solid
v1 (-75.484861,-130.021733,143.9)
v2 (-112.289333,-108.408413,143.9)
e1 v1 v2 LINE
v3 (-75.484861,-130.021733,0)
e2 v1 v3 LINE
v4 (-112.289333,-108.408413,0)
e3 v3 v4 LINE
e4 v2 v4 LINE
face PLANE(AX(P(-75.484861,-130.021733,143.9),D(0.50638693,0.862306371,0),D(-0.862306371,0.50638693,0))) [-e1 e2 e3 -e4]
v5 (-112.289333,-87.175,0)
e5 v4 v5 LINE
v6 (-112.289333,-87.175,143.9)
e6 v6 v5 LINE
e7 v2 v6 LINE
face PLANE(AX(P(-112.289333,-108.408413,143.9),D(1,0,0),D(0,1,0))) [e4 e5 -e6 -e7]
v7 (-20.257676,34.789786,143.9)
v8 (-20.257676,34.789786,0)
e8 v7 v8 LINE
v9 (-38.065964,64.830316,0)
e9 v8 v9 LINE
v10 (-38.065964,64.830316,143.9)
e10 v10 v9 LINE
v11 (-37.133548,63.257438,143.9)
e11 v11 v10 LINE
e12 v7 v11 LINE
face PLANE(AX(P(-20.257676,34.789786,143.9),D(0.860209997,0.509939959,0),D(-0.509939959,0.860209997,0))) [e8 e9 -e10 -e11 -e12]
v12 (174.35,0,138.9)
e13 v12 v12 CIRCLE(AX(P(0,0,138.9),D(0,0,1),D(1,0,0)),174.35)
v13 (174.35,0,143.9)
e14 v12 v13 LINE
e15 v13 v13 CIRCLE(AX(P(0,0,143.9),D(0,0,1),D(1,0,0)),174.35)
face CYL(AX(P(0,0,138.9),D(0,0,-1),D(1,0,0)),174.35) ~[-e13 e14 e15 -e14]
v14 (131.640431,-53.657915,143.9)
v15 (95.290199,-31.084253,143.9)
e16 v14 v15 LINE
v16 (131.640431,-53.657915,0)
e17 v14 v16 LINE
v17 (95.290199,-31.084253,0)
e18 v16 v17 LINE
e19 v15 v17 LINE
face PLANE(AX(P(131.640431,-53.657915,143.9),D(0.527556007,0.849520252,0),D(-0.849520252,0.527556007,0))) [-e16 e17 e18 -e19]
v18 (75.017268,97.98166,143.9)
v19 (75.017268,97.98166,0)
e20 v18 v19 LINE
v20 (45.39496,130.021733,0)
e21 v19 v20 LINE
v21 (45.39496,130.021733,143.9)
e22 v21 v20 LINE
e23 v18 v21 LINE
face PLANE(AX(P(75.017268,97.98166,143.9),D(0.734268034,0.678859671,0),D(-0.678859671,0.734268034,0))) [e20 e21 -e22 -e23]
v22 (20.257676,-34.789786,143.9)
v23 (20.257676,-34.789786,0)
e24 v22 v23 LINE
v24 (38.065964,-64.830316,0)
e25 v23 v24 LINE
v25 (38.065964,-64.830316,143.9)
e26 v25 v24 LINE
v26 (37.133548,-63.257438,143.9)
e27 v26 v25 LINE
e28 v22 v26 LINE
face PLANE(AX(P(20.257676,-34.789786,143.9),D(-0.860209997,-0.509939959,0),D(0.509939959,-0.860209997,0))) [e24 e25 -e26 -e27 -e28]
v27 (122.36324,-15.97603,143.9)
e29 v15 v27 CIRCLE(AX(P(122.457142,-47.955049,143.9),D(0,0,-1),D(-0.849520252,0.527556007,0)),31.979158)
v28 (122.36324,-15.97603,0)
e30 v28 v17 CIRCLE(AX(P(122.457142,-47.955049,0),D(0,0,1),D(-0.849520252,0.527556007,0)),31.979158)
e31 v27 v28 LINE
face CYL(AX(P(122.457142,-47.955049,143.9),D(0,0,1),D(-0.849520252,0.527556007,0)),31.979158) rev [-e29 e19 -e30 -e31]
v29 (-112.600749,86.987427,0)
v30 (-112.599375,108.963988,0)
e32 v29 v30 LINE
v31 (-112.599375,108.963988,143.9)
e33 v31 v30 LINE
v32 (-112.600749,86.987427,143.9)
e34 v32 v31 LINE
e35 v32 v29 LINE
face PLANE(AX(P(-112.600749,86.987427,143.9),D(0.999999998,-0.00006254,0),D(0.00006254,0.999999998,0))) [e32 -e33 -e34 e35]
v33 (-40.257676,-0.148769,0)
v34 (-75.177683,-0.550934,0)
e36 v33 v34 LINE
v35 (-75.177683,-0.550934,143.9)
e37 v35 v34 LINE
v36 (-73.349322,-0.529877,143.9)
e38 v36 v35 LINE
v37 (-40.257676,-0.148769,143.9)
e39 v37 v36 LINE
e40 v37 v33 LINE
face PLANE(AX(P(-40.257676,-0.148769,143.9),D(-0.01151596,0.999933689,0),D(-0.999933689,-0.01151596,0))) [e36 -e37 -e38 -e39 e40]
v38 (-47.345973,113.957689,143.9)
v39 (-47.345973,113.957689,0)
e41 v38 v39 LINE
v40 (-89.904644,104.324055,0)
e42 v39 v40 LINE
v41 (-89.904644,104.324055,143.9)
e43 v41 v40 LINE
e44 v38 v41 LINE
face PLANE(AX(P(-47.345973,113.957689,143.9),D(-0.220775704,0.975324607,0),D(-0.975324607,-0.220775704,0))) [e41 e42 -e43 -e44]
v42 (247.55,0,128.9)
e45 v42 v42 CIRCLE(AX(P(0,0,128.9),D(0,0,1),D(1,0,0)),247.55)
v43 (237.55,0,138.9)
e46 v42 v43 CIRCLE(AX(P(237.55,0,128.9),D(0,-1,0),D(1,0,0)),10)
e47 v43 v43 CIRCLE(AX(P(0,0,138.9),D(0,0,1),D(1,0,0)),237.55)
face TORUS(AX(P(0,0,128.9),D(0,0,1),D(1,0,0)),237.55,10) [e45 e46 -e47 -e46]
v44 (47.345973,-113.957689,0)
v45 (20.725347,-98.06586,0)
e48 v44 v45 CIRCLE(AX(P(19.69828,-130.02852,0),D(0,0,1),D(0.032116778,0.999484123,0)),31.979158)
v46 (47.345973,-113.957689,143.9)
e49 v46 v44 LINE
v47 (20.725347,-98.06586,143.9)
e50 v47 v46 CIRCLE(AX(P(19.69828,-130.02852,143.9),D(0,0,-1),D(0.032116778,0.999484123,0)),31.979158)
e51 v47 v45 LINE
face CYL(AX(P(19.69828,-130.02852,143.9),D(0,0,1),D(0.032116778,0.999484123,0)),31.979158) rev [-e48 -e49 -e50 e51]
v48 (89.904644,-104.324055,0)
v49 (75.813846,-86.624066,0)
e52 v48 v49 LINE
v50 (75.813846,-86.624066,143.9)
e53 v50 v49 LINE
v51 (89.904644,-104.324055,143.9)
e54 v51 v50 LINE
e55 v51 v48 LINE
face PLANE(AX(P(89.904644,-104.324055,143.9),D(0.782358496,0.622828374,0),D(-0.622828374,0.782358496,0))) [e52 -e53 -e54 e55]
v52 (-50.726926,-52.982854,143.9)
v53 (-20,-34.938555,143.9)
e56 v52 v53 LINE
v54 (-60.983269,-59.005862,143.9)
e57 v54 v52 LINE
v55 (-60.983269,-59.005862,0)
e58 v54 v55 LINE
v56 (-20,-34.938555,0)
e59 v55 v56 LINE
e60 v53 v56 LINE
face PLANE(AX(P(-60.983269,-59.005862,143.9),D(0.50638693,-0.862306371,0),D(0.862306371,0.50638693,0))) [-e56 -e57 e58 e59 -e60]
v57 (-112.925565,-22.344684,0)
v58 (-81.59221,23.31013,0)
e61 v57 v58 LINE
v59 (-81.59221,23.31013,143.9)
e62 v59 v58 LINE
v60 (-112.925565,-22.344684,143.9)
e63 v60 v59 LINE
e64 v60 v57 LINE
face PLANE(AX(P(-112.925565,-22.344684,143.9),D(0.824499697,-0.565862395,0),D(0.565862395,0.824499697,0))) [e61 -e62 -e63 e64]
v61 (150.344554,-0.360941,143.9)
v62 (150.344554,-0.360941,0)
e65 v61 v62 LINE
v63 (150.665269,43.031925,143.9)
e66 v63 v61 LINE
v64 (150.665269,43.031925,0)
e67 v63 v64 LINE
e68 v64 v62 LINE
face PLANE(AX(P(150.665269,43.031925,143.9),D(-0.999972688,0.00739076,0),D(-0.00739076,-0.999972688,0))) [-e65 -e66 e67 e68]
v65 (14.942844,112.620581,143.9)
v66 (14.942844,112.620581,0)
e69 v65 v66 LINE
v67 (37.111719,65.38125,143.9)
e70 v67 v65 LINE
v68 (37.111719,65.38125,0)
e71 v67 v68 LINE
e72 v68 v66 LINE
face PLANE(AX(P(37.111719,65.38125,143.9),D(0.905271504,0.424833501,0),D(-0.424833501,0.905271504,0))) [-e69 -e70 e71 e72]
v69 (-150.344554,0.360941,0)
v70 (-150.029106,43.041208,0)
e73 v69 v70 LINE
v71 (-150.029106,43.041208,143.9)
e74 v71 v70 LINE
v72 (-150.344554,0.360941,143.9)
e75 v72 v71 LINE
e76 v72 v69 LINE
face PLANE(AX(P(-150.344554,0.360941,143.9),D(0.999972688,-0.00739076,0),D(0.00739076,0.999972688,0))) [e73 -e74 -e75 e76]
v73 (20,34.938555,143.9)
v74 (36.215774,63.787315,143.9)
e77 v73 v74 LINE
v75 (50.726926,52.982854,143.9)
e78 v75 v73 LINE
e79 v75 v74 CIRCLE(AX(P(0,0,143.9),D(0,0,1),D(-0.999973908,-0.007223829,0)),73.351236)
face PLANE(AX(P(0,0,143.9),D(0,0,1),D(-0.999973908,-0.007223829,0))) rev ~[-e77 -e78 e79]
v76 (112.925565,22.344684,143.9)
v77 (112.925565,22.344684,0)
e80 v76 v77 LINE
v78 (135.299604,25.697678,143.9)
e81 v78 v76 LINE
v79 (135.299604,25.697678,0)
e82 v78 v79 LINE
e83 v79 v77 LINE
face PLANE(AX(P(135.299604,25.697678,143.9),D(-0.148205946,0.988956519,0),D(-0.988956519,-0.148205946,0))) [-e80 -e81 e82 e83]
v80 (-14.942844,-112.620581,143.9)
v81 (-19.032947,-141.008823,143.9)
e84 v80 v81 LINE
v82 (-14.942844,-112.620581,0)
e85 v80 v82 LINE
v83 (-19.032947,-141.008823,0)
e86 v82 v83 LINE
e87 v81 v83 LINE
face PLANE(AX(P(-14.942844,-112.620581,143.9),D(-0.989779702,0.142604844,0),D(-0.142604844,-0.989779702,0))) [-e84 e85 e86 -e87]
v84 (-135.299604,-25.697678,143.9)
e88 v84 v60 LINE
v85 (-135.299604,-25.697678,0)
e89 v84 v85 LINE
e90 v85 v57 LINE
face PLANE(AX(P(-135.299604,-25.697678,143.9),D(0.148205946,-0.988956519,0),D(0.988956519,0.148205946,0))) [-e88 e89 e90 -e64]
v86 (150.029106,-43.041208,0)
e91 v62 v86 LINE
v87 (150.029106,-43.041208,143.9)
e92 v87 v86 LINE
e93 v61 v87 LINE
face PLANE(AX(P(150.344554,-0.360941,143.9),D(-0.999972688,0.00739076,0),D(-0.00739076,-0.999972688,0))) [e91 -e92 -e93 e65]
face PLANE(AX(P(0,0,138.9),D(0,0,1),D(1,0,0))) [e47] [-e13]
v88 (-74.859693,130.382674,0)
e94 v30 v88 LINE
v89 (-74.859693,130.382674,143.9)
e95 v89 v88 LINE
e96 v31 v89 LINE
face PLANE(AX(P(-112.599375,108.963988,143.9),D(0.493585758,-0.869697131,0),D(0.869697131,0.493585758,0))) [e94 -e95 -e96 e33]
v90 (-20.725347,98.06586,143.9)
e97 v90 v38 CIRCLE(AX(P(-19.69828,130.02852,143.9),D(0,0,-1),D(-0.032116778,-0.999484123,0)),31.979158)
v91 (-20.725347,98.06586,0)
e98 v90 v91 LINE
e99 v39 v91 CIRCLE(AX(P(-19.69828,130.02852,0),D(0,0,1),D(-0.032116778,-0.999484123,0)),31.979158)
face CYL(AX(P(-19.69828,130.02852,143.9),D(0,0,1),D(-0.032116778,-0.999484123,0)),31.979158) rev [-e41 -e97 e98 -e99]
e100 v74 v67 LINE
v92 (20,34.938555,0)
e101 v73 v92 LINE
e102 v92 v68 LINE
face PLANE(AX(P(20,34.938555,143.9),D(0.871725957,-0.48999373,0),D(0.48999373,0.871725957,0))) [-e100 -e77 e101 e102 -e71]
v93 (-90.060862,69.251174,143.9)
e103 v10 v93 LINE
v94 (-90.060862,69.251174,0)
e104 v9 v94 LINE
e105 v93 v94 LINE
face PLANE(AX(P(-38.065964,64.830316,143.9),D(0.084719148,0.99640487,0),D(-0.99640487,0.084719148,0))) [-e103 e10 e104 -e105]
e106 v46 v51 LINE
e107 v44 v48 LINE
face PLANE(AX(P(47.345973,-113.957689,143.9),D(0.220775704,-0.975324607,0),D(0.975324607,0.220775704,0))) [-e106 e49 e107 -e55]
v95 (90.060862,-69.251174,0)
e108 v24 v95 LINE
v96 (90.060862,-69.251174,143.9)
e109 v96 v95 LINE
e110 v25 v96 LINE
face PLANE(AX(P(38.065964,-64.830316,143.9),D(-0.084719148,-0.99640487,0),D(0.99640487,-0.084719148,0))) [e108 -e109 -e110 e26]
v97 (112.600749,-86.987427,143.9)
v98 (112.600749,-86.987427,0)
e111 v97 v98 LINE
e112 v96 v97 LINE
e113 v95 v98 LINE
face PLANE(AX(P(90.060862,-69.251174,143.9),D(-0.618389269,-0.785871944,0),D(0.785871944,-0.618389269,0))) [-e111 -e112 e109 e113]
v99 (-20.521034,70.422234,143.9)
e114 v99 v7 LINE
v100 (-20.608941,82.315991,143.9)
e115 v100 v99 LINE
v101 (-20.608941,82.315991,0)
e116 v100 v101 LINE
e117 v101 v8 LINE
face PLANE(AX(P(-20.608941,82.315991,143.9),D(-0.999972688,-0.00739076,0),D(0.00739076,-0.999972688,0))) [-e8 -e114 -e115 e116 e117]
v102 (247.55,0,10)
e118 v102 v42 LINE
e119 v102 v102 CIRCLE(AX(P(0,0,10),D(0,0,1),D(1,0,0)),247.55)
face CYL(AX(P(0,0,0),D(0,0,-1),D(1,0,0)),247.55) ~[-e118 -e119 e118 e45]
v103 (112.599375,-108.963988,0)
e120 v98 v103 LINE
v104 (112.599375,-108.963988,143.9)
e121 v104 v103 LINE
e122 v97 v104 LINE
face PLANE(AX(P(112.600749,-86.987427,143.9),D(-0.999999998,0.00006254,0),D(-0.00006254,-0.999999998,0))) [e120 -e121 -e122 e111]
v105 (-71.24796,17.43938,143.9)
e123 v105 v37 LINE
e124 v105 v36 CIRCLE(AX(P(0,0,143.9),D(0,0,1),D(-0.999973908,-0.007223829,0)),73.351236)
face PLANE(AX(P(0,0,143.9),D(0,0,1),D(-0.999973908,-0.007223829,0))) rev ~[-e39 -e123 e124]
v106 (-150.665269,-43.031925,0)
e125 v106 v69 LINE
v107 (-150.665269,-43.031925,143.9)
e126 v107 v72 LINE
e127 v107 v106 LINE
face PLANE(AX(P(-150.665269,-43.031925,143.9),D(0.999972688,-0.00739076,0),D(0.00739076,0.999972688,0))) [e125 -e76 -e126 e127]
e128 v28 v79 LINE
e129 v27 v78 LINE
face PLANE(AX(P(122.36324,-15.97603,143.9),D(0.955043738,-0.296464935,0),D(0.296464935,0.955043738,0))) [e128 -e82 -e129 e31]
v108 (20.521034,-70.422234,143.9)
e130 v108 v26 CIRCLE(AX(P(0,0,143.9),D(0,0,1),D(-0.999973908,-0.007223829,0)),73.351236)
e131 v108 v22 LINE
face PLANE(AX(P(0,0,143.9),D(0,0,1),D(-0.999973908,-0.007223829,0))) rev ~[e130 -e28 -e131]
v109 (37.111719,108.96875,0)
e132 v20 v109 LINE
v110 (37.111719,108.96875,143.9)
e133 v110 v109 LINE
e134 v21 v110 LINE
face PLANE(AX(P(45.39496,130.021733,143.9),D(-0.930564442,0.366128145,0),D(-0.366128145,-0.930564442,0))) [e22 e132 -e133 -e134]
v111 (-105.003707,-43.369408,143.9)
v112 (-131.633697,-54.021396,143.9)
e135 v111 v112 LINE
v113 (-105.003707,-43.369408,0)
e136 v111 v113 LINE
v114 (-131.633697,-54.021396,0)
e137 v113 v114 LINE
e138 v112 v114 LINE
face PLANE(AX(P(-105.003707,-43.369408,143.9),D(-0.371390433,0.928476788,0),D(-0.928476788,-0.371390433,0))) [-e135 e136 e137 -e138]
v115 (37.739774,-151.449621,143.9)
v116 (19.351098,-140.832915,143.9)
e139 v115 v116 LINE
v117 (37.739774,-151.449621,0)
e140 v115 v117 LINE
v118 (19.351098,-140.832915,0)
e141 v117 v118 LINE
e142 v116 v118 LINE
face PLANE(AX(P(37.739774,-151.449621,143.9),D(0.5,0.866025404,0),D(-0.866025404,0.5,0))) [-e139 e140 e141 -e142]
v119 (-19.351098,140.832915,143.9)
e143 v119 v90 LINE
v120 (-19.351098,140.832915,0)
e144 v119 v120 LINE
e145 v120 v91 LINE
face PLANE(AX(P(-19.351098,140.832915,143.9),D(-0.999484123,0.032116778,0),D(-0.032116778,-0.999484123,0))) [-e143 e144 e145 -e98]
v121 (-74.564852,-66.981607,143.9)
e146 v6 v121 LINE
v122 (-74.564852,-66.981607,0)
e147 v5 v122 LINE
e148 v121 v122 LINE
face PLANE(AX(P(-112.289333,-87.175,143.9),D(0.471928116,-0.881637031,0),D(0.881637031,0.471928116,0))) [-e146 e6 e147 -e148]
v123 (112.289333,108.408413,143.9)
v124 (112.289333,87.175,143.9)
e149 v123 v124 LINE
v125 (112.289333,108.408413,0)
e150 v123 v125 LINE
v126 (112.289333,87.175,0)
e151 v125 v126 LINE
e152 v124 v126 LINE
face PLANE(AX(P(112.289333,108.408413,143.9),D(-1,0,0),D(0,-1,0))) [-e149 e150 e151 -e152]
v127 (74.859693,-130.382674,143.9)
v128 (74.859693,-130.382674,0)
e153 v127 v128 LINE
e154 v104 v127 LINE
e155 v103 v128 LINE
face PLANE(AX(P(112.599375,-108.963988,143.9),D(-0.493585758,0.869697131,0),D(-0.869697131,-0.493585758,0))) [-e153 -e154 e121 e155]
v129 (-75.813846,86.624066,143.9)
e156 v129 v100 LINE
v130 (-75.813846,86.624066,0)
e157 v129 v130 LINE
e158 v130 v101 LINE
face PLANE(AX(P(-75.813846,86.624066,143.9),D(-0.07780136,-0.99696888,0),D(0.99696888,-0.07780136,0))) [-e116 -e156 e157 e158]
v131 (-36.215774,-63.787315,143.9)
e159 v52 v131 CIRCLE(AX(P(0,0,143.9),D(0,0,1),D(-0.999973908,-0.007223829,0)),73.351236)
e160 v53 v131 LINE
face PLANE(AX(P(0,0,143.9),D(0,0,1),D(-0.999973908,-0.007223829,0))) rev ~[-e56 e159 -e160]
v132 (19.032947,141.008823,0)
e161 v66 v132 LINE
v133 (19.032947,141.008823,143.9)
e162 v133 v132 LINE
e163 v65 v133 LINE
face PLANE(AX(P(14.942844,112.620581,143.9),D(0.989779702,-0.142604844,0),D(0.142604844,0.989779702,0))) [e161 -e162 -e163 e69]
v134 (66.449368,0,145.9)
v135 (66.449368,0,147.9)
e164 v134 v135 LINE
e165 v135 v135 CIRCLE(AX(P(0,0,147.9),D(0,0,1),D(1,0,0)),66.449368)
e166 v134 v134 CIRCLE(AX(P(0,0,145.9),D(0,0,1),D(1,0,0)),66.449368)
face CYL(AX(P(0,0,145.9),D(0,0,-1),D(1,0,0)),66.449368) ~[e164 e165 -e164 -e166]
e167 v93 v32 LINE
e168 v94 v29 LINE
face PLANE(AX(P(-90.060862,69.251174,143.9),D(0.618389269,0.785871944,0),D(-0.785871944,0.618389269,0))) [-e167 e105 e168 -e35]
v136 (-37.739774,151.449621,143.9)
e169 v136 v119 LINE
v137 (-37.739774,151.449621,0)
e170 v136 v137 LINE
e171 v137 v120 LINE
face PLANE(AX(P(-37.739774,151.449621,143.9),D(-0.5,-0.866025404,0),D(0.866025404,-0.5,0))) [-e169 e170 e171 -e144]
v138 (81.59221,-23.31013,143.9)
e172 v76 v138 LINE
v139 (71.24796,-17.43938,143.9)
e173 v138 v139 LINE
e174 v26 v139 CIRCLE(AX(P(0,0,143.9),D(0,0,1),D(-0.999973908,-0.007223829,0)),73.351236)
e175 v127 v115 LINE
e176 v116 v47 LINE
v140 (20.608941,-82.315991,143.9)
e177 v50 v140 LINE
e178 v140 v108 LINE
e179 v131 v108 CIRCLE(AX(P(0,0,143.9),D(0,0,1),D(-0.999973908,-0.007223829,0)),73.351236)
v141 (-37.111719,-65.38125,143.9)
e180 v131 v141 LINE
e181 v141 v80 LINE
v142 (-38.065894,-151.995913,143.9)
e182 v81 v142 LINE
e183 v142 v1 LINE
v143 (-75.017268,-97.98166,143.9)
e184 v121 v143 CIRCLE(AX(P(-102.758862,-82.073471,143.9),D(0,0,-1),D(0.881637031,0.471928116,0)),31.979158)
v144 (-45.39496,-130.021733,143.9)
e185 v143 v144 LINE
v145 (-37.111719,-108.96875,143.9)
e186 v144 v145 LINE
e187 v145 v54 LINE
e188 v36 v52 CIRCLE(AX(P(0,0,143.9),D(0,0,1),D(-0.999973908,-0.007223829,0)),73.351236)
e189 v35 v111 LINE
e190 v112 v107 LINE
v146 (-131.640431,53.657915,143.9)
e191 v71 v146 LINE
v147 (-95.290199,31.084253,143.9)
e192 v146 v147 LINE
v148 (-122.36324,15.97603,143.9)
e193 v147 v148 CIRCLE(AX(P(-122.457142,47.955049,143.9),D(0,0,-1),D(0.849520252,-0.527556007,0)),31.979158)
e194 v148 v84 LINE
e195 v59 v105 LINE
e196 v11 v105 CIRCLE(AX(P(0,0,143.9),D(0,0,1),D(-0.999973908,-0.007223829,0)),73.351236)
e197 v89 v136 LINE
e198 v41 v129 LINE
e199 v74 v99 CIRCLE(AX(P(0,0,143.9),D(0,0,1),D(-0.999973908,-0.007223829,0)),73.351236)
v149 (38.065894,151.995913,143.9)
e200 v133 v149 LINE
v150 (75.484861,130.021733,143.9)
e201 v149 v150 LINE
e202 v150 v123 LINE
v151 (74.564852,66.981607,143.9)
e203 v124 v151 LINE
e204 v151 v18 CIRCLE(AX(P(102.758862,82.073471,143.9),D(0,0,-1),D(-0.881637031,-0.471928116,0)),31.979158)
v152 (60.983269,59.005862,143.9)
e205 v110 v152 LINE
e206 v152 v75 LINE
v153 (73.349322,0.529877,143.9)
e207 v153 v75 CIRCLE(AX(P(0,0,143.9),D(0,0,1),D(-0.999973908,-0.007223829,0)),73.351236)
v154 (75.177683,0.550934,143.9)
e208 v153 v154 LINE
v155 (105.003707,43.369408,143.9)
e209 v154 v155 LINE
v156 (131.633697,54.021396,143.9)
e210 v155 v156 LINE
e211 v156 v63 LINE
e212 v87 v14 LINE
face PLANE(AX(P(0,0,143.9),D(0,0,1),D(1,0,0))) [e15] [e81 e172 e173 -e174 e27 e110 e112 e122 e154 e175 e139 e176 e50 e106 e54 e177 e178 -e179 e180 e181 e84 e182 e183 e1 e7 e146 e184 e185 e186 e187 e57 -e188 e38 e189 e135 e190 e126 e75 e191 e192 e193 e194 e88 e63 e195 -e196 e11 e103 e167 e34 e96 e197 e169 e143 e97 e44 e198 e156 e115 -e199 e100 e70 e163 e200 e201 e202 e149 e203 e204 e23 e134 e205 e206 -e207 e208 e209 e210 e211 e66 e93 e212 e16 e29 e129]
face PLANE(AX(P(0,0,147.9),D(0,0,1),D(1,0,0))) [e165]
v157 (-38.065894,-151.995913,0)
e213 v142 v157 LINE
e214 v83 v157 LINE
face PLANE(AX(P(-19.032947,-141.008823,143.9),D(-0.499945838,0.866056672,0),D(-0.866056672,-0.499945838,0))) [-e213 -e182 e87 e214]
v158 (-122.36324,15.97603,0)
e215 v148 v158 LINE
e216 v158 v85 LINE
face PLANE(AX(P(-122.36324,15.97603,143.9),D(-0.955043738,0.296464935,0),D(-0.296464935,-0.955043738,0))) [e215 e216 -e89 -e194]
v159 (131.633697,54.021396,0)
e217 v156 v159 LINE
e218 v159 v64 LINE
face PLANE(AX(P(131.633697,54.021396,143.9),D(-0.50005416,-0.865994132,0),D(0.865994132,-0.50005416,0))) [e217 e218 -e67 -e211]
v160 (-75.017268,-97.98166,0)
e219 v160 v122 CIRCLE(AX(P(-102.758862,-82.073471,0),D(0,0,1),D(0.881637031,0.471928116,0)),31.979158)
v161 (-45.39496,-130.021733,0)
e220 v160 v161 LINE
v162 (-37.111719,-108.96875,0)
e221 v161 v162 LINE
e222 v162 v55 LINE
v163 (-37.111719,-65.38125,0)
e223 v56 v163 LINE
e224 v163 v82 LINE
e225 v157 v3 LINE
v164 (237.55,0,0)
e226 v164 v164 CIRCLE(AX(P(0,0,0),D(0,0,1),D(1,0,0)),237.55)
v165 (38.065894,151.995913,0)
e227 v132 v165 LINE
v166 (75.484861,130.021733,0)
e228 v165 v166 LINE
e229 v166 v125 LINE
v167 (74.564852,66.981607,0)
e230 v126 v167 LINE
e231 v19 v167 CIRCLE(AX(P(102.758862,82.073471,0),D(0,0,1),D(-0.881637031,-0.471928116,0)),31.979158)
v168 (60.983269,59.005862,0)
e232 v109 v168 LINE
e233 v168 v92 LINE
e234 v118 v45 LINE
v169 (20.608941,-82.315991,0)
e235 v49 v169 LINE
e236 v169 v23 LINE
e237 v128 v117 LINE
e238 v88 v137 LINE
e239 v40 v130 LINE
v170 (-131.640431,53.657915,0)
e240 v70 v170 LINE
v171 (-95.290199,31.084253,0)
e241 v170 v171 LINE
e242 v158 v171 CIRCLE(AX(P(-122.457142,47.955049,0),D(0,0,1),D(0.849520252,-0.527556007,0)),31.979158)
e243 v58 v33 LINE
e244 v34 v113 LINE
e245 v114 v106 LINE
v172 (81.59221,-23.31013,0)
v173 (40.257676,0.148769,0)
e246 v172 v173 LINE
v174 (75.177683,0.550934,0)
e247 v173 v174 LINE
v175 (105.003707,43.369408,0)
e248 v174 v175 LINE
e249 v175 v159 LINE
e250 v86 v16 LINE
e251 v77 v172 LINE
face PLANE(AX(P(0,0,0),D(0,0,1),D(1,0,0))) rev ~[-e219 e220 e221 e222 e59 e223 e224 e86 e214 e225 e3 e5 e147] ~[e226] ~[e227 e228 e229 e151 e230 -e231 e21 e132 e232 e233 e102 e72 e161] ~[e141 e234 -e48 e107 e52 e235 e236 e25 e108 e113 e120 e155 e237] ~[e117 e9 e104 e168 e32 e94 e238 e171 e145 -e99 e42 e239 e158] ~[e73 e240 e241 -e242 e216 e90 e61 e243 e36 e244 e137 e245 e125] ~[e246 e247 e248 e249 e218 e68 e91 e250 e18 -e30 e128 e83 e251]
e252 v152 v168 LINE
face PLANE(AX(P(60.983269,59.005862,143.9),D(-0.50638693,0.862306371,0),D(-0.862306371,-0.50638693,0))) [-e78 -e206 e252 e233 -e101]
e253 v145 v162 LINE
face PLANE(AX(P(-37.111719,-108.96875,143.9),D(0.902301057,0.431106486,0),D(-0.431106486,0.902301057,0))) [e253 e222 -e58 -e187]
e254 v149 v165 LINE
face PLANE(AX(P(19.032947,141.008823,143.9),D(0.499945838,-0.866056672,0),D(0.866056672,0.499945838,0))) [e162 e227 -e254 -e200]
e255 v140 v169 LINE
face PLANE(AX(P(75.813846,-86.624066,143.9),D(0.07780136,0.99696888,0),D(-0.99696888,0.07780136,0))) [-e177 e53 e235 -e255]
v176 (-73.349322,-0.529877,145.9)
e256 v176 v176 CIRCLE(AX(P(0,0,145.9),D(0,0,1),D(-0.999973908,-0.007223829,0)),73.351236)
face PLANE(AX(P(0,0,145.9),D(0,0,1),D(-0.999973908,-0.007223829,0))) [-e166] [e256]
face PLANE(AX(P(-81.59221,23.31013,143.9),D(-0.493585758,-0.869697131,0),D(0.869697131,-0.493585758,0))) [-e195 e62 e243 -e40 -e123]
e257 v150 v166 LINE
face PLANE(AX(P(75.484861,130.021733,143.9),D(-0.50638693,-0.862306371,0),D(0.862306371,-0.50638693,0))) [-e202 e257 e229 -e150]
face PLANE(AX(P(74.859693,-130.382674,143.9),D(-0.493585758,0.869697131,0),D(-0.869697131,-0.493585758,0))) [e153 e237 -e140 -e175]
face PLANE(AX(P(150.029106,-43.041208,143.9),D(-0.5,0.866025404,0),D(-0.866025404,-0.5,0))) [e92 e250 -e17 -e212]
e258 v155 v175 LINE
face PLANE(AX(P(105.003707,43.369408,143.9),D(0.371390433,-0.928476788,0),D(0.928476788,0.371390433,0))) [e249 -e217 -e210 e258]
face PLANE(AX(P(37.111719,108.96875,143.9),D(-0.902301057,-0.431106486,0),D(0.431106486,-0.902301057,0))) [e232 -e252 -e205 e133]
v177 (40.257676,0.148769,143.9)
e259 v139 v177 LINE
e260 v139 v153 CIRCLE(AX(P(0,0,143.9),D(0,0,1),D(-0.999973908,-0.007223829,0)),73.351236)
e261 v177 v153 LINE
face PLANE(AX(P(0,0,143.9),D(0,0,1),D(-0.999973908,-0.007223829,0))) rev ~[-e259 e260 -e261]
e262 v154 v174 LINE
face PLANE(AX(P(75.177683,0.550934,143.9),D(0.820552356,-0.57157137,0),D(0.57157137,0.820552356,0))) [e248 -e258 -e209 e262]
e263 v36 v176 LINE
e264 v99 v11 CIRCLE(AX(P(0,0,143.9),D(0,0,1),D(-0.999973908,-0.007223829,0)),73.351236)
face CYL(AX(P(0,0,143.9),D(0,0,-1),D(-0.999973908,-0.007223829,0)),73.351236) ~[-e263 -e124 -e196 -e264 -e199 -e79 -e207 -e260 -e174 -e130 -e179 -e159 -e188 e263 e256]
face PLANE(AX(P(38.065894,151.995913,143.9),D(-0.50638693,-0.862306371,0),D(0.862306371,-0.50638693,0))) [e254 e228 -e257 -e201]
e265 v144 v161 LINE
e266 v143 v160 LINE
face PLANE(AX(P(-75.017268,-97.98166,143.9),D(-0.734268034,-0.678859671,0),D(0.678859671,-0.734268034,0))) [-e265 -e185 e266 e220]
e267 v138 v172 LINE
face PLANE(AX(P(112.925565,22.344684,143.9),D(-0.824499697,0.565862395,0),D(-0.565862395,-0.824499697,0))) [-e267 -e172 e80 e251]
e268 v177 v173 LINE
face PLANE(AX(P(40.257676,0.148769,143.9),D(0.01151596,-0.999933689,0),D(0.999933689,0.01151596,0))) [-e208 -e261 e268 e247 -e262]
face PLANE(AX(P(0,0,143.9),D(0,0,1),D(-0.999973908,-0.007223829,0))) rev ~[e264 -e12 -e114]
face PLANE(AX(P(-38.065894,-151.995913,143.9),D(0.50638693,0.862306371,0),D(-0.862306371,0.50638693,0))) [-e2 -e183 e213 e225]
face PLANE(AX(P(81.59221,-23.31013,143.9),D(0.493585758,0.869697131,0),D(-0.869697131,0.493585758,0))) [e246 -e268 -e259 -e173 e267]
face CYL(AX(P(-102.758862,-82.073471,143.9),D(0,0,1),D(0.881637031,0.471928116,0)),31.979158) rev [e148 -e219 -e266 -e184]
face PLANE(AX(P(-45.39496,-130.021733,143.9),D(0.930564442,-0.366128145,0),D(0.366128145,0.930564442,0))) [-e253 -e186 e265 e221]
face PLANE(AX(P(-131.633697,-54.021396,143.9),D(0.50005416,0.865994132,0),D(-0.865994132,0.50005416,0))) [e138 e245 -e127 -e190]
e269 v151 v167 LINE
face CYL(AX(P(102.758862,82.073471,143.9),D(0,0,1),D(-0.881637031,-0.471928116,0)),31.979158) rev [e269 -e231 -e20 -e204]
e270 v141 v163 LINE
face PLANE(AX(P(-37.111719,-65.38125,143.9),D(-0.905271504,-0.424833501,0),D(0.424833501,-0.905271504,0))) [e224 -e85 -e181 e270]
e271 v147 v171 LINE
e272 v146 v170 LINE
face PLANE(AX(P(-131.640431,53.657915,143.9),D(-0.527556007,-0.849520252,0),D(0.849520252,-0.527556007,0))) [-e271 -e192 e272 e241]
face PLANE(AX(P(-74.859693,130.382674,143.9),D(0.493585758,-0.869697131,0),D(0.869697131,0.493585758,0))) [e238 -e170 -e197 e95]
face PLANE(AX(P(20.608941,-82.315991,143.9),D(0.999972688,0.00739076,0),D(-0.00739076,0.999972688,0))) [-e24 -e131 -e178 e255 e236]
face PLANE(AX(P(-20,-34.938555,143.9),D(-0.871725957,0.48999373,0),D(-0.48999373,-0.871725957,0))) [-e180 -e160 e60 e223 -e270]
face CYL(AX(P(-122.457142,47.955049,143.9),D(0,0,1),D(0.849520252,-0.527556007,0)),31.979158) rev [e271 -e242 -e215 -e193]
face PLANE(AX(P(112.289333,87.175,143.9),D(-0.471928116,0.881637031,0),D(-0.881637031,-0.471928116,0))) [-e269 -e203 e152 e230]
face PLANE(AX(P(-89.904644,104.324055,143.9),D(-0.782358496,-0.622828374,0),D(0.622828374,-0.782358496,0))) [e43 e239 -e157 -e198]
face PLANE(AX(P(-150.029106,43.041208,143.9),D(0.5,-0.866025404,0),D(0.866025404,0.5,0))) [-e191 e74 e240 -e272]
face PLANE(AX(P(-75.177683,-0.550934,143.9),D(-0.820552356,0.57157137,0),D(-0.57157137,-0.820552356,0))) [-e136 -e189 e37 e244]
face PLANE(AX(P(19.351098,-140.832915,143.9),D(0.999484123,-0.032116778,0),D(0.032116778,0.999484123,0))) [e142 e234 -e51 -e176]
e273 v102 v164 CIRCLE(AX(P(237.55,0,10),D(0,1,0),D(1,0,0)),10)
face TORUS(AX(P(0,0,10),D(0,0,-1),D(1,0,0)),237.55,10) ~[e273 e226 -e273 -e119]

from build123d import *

# Parameters (mm, degrees)
SKETCH2_R           = 247.55
BOSS_EXTRUDE1_DEPTH = 138.9
FILLET1_R           = 10
FILLET2_R           = 10
SKETCH3_R           = 174.35
BOSS_EXTRUDE2_DEPTH = 5
CUT_EXTRUDE1_DEPTH  = 178
SKETCH9_R           = 73.351235991
BOSS_EXTRUDE3_DEPTH = 2
SKETCH10_R          = 66.449367693
BOSS_EXTRUDE4_DEPTH = 2


with BuildPart() as part:
    # Sketch2 → Boss-Extrude1 (new body)
    with BuildSketch(Plane.XY):
        Circle(SKETCH2_R)
    extrude(amount=BOSS_EXTRUDE1_DEPTH)

    # Fillet1
    fillet1_edges = [part.edges().sort_by_distance(p)[0] for p in [
        (-247.55, 0, 138.9),
    ]]
    fillet(fillet1_edges, radius=FILLET1_R)

    # Fillet2
    fillet2_edges = [part.edges().sort_by_distance(p)[0] for p in [
        (-247.55, 0, 0),
    ]]
    fillet(fillet2_edges, radius=FILLET2_R)

    # Sketch3 → Boss-Extrude2 (add)
    with BuildSketch(Plane.XY.offset(138.9)):
        Circle(SKETCH3_R)
    extrude(amount=BOSS_EXTRUDE2_DEPTH)

    # Sketch5 → Cut-Extrude1 (cut)
    with BuildSketch(Plane.XY.offset(143.9)):
        with BuildLine():
            Line((105.003706731, 43.369407929), (131.633696581, 54.021395774))
            Line((131.633696581, 54.021395774), (150.665269372, 43.031925067))
            Line((150.665269372, 43.031925067), (150.344554361, -0.360940867))
            Line((150.344554361, -0.360940867), (150.02910614, -43.041207894))
            Line((150.02910614, -43.041207894), (131.640430833, -53.657914533))
            Line((131.640430833, -53.657914533), (95.29019948, -31.084252667))
            ThreePointArc((95.29019948, -31.084252667), (106.873400183, -20.029907867), (122.363240346, -15.976029572))
            Line((122.363240346, -15.976029572), (135.299603851, 25.697677813))
            Line((135.299603851, 25.697677813), (112.925565246, 22.34468352))
            Line((112.925565246, 22.34468352), (81.592210025, -23.310129617))
            Line((81.592210025, -23.310129617), (40.25767623, 0.148769441))
            Line((40.25767623, 0.148769441), (75.177682959, 0.55093352))
            Line((75.177682959, 0.55093352), (105.003706731, 43.369407929))
        make_face()
        with BuildLine():
            Line((90.060862379, -69.251173556), (112.600749379, -86.987427346))
            Line((112.600749379, -86.987427346), (112.599374968, -108.963988211))
            Line((112.599374968, -108.963988211), (74.859693221, -130.38267383))
            Line((74.859693221, -130.38267383), (37.739773625, -151.449621172))
            Line((37.739773625, -151.449621172), (19.351098317, -140.832914533))
            Line((19.351098317, -140.832914533), (20.725347273, -98.065859815))
            ThreePointArc((20.725347273, -98.065859815), (36.090291044, -102.570033481), (47.345972712, -113.957689415))
            Line((47.345972712, -113.957689415), (89.90464373, -104.32405515))
            Line((89.90464373, -104.32405515), (75.813846191, -86.62406648))
            Line((75.813846191, -86.62406648), (20.608940598, -82.315991441))
            Line((20.608940598, -82.315991441), (20.25767623, -34.789785592))
            Line((20.25767623, -34.789785592), (38.065963903, -64.83031648))
            Line((38.065963903, -64.83031648), (90.060862379, -69.251173556))
        make_face()
        with BuildLine():
            Line((19.032947202, 141.008823121), (38.065894405, 151.995913278))
            Line((38.065894405, 151.995913278), (75.48486114, 130.021732964))
            Line((75.48486114, 130.021732964), (112.289332516, 108.408413278))
            Line((112.289332516, 108.408413278), (112.289332516, 87.175))
            Line((112.289332516, 87.175), (74.564852207, 66.981607148))
            ThreePointArc((74.564852207, 66.981607148), (70.78310914, 82.540125614), (75.017267633, 97.981659843))
            Line((75.017267633, 97.981659843), (45.394960121, 130.021732964))
            Line((45.394960121, 130.021732964), (37.111719056, 108.96875))
            Line((37.111719056, 108.96875), (60.983269426, 59.005861824))
            Line((60.983269426, 59.005861824), (20, 34.938555033))
            Line((20, 34.938555033), (37.111719056, 65.38125))
            Line((37.111719056, 65.38125), (14.942844352, 112.620581485))
            Line((14.942844352, 112.620581485), (19.032947202, 141.008823121))
        make_face()
        with BuildLine():
            Line((-14.942844352, -112.620581485), (-19.032947202, -141.008823121))
            Line((-19.032947202, -141.008823121), (-38.065894405, -151.995913278))
            Line((-38.065894405, -151.995913278), (-75.48486114, -130.021732964))
            Line((-75.48486114, -130.021732964), (-112.289332516, -108.408413278))
            Line((-112.289332516, -108.408413278), (-112.289332516, -87.175))
            Line((-112.289332516, -87.175), (-74.564852207, -66.981607148))
            ThreePointArc((-74.564852207, -66.981607148), (-70.78310914, -82.540125614), (-75.017267633, -97.981659843))
            Line((-75.017267633, -97.981659843), (-45.394960121, -130.021732964))
            Line((-45.394960121, -130.021732964), (-37.111719056, -108.96875))
            Line((-37.111719056, -108.96875), (-60.983269426, -59.005861824))
            Line((-60.983269426, -59.005861824), (-20, -34.938555033))
            Line((-20, -34.938555033), (-37.111719056, -65.38125))
            Line((-37.111719056, -65.38125), (-14.942844352, -112.620581485))
        make_face()
        with BuildLine():
            Line((-105.003706731, -43.369407929), (-131.633696581, -54.021395774))
            Line((-131.633696581, -54.021395774), (-150.665269372, -43.031925067))
            Line((-150.665269372, -43.031925067), (-150.344554361, 0.360940867))
            Line((-150.344554361, 0.360940867), (-150.02910614, 43.041207894))
            Line((-150.02910614, 43.041207894), (-131.640430833, 53.657914533))
            Line((-131.640430833, 53.657914533), (-95.29019948, 31.084252667))
            ThreePointArc((-95.29019948, 31.084252667), (-106.873400183, 20.029907867), (-122.363240346, 15.976029572))
            Line((-122.363240346, 15.976029572), (-135.299603851, -25.697677813))
            Line((-135.299603851, -25.697677813), (-112.925565246, -22.34468352))
            Line((-112.925565246, -22.34468352), (-81.592210025, 23.310129617))
            Line((-81.592210025, 23.310129617), (-40.25767623, -0.148769441))
            Line((-40.25767623, -0.148769441), (-75.177682959, -0.55093352))
            Line((-75.177682959, -0.55093352), (-105.003706731, -43.369407929))
        make_face()
        with BuildLine():
            Line((-90.060862379, 69.251173556), (-112.600749379, 86.987427346))
            Line((-112.600749379, 86.987427346), (-112.599374968, 108.963988211))
            Line((-112.599374968, 108.963988211), (-74.859693221, 130.38267383))
            Line((-74.859693221, 130.38267383), (-37.739773625, 151.449621172))
            Line((-37.739773625, 151.449621172), (-19.351098317, 140.832914533))
            Line((-19.351098317, 140.832914533), (-20.725347273, 98.065859815))
            ThreePointArc((-20.725347273, 98.065859815), (-36.090291044, 102.570033481), (-47.345972712, 113.957689415))
            Line((-47.345972712, 113.957689415), (-89.90464373, 104.32405515))
            Line((-89.90464373, 104.32405515), (-75.813846191, 86.62406648))
            Line((-75.813846191, 86.62406648), (-20.608940598, 82.315991441))
            Line((-20.608940598, 82.315991441), (-20.25767623, 34.789785592))
            Line((-20.25767623, 34.789785592), (-38.065963903, 64.83031648))
            Line((-38.065963903, 64.83031648), (-90.060862379, 69.251173556))
        make_face()
    extrude(amount=-CUT_EXTRUDE1_DEPTH, mode=Mode.SUBTRACT)

    # Sketch9 → Boss-Extrude3 (add)
    with BuildSketch(Plane.XY.offset(143.9)):
        with Locations(Location((0, 0, 0), (0, 0, 180.413898519))):
            Circle(SKETCH9_R)
    extrude(amount=BOSS_EXTRUDE3_DEPTH)

    # Sketch10 → Boss-Extrude4 (add)
    with BuildSketch(Plane.XY.offset(145.9)):
        Circle(SKETCH10_R)
    extrude(amount=BOSS_EXTRUDE4_DEPTH)


solid = part.part
